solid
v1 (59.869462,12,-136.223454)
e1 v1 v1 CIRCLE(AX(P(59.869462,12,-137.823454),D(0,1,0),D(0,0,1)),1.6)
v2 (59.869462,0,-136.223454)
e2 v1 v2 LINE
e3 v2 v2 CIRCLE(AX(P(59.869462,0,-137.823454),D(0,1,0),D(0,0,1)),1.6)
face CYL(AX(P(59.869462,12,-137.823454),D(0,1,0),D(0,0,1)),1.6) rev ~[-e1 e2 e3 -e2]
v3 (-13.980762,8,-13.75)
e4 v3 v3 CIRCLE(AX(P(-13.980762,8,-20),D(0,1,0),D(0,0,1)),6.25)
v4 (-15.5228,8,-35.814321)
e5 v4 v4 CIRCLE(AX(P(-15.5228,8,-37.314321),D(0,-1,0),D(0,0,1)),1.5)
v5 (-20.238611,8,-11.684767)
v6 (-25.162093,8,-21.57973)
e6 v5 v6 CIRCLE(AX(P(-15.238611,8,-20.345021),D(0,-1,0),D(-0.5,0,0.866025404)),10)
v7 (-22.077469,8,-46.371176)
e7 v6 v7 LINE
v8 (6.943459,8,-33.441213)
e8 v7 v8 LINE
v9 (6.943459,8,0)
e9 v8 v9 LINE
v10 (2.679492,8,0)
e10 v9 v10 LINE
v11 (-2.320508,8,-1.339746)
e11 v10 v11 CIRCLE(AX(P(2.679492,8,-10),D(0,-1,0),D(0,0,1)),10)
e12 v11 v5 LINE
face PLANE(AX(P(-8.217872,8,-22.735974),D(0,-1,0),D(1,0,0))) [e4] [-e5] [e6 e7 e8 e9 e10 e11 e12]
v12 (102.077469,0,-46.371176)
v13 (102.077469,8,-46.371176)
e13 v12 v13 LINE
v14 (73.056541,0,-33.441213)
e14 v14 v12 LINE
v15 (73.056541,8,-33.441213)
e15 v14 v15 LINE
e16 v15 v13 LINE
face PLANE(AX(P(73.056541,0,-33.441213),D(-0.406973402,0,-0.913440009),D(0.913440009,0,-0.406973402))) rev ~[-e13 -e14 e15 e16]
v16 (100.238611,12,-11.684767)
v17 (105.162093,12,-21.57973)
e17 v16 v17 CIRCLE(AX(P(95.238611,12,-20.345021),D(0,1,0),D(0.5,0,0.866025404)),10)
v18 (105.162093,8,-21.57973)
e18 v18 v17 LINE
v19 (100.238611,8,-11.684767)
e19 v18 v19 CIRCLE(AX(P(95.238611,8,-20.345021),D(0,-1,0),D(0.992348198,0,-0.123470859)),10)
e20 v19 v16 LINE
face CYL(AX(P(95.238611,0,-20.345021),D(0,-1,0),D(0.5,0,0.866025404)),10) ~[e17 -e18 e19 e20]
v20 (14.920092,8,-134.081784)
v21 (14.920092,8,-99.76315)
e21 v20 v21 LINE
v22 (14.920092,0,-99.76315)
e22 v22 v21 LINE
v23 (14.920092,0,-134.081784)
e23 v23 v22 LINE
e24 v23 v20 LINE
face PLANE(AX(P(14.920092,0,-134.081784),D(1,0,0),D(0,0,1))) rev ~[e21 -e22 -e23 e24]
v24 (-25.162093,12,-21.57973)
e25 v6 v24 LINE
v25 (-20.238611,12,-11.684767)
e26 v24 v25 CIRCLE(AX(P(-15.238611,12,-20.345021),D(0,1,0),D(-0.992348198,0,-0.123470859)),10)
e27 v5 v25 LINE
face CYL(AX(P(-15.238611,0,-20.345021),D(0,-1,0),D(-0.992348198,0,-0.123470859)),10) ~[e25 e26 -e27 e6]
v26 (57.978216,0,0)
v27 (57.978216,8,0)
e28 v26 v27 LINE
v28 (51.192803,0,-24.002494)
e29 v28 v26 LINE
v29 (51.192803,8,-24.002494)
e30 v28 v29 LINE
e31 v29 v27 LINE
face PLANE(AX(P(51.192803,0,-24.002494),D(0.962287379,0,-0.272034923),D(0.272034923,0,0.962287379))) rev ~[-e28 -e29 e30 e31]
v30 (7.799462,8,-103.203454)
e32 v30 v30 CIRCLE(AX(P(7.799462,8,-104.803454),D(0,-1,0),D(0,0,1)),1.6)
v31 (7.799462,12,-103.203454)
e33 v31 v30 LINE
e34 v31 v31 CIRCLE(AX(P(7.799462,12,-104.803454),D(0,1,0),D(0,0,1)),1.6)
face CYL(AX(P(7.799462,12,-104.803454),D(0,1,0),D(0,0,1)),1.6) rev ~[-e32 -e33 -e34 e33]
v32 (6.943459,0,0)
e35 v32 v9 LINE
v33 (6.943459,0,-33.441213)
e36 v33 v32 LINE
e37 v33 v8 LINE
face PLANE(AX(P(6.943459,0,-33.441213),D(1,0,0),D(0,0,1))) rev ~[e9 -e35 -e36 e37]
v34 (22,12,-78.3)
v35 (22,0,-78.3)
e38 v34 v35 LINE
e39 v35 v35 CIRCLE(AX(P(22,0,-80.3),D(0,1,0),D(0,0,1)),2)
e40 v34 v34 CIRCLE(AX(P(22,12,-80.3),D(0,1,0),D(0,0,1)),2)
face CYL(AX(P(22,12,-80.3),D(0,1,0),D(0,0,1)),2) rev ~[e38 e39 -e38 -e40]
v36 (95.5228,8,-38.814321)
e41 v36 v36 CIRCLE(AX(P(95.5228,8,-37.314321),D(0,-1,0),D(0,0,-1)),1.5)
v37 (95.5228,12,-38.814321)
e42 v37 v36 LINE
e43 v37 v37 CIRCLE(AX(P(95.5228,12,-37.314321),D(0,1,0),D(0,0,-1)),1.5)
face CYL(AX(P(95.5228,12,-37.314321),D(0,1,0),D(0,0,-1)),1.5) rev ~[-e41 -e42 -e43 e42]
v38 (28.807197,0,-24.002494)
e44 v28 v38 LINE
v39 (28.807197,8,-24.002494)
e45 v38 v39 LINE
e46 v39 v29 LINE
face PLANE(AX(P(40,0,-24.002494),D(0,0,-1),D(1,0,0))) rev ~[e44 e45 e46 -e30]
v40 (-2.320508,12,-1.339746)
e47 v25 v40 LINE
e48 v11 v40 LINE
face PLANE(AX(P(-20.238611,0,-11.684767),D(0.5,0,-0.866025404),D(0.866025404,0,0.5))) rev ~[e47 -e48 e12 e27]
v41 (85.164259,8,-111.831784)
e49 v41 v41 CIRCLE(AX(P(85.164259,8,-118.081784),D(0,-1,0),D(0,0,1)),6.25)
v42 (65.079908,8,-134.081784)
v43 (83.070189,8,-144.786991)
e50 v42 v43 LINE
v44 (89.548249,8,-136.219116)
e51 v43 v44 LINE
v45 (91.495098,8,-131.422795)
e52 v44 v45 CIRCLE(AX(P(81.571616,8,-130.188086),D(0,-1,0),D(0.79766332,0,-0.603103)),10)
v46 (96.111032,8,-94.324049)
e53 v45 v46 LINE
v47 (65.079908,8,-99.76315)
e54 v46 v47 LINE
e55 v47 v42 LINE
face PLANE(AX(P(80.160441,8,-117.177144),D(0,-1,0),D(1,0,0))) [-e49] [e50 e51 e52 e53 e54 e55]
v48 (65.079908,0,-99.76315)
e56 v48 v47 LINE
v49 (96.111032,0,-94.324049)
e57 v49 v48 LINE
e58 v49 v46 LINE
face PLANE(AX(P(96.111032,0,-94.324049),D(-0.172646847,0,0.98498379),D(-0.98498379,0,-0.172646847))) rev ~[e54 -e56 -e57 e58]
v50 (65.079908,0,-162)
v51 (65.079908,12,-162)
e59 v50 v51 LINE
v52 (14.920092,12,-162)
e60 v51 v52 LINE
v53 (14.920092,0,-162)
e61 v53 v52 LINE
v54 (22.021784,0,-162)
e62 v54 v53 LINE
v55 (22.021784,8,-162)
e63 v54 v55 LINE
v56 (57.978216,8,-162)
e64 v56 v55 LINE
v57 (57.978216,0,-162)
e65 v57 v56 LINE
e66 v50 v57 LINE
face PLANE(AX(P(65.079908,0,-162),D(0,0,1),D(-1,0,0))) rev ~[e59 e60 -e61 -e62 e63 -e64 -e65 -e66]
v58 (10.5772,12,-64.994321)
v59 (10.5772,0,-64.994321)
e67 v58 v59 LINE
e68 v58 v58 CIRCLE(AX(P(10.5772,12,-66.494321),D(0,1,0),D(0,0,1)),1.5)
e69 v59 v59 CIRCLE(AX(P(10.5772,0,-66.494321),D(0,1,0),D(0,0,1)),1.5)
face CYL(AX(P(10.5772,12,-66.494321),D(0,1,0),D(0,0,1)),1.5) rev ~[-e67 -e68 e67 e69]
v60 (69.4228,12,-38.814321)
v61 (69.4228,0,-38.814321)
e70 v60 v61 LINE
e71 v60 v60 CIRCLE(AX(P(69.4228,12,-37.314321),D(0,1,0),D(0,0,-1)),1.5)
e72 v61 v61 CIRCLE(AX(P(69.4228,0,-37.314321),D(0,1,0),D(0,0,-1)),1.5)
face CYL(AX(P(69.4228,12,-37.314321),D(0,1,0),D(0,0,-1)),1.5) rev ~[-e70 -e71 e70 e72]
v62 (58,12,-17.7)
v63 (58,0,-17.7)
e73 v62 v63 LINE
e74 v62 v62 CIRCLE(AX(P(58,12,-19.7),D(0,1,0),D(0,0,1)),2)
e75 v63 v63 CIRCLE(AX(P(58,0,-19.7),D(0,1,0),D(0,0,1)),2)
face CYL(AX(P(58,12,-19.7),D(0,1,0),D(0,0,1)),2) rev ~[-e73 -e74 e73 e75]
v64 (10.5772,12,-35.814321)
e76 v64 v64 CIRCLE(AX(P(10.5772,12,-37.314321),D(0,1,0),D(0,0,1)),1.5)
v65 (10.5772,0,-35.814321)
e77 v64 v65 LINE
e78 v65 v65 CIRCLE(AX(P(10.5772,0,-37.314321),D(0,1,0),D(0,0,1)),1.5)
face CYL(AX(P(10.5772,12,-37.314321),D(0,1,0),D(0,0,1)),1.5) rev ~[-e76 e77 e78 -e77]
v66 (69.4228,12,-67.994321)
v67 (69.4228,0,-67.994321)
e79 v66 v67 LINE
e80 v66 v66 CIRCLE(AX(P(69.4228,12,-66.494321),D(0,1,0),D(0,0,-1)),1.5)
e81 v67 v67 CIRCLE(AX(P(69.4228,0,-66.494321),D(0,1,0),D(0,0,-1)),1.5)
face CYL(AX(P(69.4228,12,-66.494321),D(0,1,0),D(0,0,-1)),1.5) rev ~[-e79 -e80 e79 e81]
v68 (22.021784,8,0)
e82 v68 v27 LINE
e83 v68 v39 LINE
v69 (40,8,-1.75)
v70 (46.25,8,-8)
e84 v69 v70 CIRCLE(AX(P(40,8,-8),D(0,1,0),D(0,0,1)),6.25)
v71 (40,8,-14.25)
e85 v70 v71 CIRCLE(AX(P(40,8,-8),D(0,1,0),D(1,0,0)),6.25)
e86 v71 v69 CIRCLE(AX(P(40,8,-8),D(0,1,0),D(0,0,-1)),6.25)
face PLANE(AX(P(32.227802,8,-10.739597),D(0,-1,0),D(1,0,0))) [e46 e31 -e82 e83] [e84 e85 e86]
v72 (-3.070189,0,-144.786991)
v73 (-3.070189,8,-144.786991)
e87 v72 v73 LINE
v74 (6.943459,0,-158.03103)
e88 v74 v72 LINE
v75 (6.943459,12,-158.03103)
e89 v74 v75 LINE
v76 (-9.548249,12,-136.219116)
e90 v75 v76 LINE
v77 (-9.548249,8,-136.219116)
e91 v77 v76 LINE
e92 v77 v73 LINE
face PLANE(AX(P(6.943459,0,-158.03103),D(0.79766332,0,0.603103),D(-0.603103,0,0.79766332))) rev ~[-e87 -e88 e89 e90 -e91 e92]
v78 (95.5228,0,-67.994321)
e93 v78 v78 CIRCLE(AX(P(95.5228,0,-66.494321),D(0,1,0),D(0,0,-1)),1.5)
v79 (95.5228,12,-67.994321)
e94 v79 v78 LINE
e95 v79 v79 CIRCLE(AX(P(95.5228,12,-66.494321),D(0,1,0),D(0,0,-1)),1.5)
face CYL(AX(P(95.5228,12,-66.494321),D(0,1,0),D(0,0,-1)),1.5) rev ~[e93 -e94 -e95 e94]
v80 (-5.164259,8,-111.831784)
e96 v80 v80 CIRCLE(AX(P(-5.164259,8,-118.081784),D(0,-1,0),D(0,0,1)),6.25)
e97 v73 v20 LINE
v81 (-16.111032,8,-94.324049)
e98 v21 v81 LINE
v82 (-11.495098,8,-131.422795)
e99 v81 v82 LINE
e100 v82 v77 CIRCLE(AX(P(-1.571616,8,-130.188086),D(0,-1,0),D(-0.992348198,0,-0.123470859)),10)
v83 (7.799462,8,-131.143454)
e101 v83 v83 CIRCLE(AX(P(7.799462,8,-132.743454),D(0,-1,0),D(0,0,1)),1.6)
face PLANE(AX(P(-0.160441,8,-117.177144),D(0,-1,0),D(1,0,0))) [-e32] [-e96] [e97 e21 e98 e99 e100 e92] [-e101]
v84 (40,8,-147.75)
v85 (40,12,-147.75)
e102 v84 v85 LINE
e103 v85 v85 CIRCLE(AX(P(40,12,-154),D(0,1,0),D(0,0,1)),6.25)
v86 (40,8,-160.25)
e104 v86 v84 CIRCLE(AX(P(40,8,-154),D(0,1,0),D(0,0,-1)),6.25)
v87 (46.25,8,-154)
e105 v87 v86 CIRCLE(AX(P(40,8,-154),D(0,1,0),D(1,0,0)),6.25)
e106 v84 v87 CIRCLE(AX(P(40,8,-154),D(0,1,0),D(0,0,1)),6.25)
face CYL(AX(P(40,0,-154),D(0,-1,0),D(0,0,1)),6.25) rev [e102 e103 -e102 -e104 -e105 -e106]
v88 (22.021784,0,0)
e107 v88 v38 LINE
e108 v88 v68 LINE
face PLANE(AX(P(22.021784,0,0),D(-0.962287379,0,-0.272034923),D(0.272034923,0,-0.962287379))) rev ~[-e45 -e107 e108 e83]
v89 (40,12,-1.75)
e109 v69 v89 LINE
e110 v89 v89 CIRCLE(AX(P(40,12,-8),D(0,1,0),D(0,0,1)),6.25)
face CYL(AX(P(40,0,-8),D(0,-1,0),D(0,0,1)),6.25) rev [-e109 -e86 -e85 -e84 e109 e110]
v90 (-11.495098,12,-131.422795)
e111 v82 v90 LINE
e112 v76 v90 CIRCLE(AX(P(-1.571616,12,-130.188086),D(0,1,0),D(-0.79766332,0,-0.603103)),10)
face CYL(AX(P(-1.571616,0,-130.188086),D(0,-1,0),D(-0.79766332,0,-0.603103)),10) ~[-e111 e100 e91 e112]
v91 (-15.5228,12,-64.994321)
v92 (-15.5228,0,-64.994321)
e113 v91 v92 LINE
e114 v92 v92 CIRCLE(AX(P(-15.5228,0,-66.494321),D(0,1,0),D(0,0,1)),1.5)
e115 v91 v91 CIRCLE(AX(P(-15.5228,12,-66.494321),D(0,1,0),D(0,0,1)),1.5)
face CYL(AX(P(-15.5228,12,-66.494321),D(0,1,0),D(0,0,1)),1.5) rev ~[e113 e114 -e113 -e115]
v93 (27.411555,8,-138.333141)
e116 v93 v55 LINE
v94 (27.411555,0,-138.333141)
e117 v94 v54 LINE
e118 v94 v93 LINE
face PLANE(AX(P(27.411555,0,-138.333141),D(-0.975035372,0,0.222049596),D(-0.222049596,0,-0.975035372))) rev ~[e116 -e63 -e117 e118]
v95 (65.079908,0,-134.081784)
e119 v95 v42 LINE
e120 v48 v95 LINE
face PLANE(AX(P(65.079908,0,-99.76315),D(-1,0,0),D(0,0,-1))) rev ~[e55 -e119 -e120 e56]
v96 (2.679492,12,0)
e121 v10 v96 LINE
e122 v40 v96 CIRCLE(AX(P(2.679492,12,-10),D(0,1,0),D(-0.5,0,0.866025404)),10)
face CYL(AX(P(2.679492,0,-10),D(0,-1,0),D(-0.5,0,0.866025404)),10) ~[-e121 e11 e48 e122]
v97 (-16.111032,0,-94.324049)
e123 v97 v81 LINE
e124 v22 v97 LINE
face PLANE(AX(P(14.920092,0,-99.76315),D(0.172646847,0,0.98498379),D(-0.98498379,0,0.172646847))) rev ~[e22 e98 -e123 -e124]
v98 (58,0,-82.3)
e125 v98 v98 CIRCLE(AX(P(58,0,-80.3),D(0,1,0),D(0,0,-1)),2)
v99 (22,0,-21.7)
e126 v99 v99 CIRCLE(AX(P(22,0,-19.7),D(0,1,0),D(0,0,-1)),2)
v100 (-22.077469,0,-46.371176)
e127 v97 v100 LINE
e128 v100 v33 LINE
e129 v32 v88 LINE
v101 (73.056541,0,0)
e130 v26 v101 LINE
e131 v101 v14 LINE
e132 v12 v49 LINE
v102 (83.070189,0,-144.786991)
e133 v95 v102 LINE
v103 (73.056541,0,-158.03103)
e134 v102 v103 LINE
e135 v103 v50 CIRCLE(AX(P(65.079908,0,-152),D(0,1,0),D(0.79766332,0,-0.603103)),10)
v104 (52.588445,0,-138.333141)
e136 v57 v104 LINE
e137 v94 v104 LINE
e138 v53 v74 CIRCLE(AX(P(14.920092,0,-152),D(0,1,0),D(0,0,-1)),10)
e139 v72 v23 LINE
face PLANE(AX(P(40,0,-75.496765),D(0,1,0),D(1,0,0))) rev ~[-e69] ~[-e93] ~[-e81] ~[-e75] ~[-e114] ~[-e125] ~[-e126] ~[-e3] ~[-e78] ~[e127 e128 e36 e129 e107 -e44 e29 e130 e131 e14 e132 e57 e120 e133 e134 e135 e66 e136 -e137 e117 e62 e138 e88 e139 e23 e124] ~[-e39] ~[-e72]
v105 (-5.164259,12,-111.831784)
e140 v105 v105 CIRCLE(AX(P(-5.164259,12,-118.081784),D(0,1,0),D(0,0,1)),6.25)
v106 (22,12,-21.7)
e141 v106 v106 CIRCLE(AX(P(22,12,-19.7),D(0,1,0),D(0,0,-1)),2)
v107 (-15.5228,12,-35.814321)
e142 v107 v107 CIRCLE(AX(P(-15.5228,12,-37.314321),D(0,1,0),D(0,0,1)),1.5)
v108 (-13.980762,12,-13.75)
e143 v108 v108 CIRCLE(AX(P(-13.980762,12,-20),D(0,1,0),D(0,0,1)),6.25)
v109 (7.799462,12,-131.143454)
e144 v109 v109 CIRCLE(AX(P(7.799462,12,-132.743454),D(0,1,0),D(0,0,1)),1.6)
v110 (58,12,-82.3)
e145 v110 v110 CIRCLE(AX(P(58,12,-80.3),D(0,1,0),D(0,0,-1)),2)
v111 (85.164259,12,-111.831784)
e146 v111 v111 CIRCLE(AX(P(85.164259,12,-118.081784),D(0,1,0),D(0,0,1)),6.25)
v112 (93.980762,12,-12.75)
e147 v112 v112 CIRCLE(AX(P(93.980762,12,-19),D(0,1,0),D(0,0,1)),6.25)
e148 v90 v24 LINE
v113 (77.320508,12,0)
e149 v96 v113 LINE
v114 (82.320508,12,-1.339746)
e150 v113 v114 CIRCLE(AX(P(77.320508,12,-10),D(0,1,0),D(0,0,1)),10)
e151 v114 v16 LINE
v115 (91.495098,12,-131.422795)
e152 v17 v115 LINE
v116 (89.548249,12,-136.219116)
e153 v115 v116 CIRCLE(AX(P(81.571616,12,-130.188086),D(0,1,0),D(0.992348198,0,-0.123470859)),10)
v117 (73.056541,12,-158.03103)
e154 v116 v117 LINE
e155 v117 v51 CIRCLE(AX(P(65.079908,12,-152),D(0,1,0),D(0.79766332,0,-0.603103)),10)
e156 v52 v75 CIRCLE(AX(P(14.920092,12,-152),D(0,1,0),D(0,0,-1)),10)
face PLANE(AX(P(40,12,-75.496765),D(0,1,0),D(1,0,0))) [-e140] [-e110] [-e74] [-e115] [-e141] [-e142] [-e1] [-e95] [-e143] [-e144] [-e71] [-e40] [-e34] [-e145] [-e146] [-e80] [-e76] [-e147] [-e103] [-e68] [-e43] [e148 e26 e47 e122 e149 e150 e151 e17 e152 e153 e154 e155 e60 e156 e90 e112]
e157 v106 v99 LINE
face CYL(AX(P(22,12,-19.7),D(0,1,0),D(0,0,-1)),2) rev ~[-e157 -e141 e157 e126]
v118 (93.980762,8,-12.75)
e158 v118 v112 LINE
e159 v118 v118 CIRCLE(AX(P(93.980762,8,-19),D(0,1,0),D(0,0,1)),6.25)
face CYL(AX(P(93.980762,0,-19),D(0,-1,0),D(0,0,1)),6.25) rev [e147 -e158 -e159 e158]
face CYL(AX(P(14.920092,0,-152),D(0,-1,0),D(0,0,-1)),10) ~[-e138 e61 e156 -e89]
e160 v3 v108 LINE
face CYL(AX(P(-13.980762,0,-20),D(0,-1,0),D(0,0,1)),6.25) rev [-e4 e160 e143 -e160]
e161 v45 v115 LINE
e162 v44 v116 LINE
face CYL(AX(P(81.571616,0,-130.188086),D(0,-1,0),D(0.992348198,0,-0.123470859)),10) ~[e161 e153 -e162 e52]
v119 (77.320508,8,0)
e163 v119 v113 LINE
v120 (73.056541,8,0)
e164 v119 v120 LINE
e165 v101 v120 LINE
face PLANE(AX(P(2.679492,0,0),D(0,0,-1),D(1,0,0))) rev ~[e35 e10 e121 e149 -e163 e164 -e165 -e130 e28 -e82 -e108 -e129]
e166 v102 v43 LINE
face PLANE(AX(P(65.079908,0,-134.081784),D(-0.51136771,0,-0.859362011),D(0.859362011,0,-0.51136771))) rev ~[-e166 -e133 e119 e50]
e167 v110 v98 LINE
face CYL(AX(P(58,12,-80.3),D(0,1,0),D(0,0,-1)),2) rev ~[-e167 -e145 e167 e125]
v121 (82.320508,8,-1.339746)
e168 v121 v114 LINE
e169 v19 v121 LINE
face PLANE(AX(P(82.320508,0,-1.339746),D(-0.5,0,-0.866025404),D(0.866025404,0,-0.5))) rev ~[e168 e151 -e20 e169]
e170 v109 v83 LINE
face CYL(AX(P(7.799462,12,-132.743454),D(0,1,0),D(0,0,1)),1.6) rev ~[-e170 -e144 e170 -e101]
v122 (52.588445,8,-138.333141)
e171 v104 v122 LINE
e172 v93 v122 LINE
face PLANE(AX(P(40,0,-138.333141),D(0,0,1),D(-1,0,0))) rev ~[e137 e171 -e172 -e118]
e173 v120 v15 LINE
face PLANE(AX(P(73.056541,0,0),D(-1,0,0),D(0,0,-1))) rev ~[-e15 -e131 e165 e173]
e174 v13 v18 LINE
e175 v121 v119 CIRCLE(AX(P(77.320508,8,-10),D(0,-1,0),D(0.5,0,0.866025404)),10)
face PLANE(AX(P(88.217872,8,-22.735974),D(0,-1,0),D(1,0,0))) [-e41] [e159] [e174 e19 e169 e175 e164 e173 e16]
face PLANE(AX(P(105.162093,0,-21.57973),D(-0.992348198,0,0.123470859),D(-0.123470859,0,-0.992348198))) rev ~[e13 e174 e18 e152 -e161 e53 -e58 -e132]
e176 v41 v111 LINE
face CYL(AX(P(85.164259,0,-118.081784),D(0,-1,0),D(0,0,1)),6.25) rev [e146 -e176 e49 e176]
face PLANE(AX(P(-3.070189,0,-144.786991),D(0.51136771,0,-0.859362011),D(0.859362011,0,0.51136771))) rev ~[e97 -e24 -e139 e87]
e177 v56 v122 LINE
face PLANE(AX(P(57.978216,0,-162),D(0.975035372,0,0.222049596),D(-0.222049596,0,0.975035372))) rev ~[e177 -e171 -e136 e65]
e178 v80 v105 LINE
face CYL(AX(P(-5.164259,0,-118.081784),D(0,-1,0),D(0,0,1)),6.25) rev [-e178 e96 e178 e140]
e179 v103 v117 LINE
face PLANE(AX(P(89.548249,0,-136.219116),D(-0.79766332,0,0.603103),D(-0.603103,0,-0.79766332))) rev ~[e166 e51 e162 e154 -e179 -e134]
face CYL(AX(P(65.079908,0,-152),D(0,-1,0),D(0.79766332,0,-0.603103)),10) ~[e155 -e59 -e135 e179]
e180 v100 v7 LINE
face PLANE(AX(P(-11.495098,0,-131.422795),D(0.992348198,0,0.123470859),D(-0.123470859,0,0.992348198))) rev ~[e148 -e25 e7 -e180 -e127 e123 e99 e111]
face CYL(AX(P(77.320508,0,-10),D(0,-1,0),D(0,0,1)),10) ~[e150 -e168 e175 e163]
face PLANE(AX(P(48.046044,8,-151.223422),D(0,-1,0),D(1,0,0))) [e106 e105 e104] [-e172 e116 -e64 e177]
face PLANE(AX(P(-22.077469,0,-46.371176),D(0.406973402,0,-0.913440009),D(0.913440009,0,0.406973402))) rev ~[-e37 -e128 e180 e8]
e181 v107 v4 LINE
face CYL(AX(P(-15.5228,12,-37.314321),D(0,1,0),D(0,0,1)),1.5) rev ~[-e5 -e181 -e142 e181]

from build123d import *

# Parameters (mm, degrees)
SKETCH1_R           = 6.25
BOSS_EXTRUDE2_DEPTH = 12
SKETCH3_R           = 1.6
SKETCH3_R_2         = 2
SKETCH3_R_3         = 1.5
CUT_EXTRUDE3_DEPTH  = 194.554036966
SKETCH4_R           = 1.6
SKETCH4_R_2         = 6.25
SKETCH4_R_3         = 1.5
CUT_EXTRUDE4_DEPTH  = 8


with BuildPart() as part:
    # Sketch1 → Boss-Extrude2 (new body)
    with BuildSketch(Plane(origin=(0, 0, 0), x_dir=(1, 0, 0), z_dir=(0, 1, 0))):
        with BuildLine():
            Line((2.679491924, 0), (77.320508076, 0))
            ThreePointArc((77.320508076, 0), (79.908698527, 0.340741737), (82.320508076, 1.339745962))
            Line((82.320508076, 1.339745962), (100.238610908, 11.684767456))
            ThreePointArc((100.238610908, 11.684767456), (104.191551765, 15.890265607), (105.162092892, 21.579730085))
            Line((105.162092892, 21.579730085), (91.495098183, 131.422794828))
            ThreePointArc((91.495098183, 131.422794828), (90.837397635, 133.949109284), (89.548249395, 136.219116235))
            Line((89.548249395, 136.219116235), (73.056541302, 158.031029999))
            ThreePointArc((73.056541302, 158.031029999), (69.534663992, 160.952940857), (65.079908105, 162))
            Line((65.079908105, 162), (14.920091895, 162))
            ThreePointArc((14.920091895, 162), (10.465336008, 160.952940857), (6.943458698, 158.031029999))
            Line((6.943458698, 158.031029999), (-9.548249395, 136.219116235))
            ThreePointArc((-9.548249395, 136.219116235), (-10.837397635, 133.949109284), (-11.495098183, 131.422794828))
            Line((-11.495098183, 131.422794828), (-25.162092892, 21.579730085))
            ThreePointArc((-25.162092892, 21.579730085), (-24.191551765, 15.890265607), (-20.238610908, 11.684767456))
            Line((-20.238610908, 11.684767456), (-2.320508076, 1.339745962))
            ThreePointArc((-2.320508076, 1.339745962), (0.091301473, 0.340741737), (2.679491924, 0))
        make_face()
        with Locations(Location((-13.980762114, 20, 0), (0, 0, 270))):
            Circle(SKETCH1_R, mode=Mode.SUBTRACT)
        with Locations(Location((93.980762114, 19, 0), (0, 0, 270))):
            Circle(SKETCH1_R, mode=Mode.SUBTRACT)
        with Locations(Location((-5.164259013, 118.081783812, 0), (0, 0, 270))):
            Circle(SKETCH1_R, mode=Mode.SUBTRACT)
        with Locations(Location((85.164259013, 118.081783812, 0), (0, 0, 270))):
            Circle(SKETCH1_R, mode=Mode.SUBTRACT)
        with Locations(Location((40, 154, 0), (0, 0, 270))):
            Circle(SKETCH1_R, mode=Mode.SUBTRACT)
        with Locations(Location((40, 8, 0), (0, 0, 270))):
            Circle(SKETCH1_R, mode=Mode.SUBTRACT)
    extrude(amount=BOSS_EXTRUDE2_DEPTH)

    # Sketch3 → Cut-Extrude3 (cut, through all)
    with BuildSketch(Plane(origin=(0, 12, 0), x_dir=(1, 0, 0), z_dir=(0, 1, 0))):
        with Locations(Location((7.799462252, 104.803453548, 0), (0, 0, 270))):
            Circle(SKETCH3_R)
        with Locations(Location((7.799462252, 132.743453548, 0), (0, 0, 270))):
            Circle(SKETCH3_R)
        with Locations(Location((59.869462252, 137.823453548, 0), (0, 0, 270))):
            Circle(SKETCH3_R)
        with Locations(Location((58, 19.7, 0), (0, 0, 270))):
            Circle(SKETCH3_R_2)
        with Locations(Location((22, 19.7, 0), (0, 0, 90))):
            Circle(SKETCH3_R_2)
        with Locations(Location((22, 80.3, 0), (0, 0, 270))):
            Circle(SKETCH3_R_2)
        with Locations(Location((58, 80.3, 0), (0, 0, 90))):
            Circle(SKETCH3_R_2)
        with Locations(Location((10.577199901, 37.314321378, 0), (0, 0, 270))):
            Circle(SKETCH3_R_3)
        with Locations(Location((-15.522800099, 66.494321378, 0), (0, 0, 270))):
            Circle(SKETCH3_R_3)
        with Locations(Location((-15.522800099, 37.314321378, 0), (0, 0, 270))):
            Circle(SKETCH3_R_3)
        with Locations(Location((10.577199901, 66.494321378, 0), (0, 0, 270))):
            Circle(SKETCH3_R_3)
        with Locations(Location((95.522800099, 37.314321378, 0), (0, 0, 90))):
            Circle(SKETCH3_R_3)
        with Locations(Location((95.522800099, 66.494321378, 0), (0, 0, 90))):
            Circle(SKETCH3_R_3)
        with Locations(Location((69.422800099, 37.314321378, 0), (0, 0, 90))):
            Circle(SKETCH3_R_3)
        with Locations(Location((69.422800099, 66.494321378, 0), (0, 0, 90))):
            Circle(SKETCH3_R_3)
    extrude(amount=-CUT_EXTRUDE3_DEPTH, mode=Mode.SUBTRACT)

    # Sketch4 → Cut-Extrude4 (cut)
    # profile 1 of 8: a face of its own
    with BuildSketch(Plane.XZ):
        with BuildLine():
            Line((14.920091895, -99.763149928), (-16.111032357, -94.324049484))
            Line((-16.111032357, -94.324049484), (-11.495098183, -131.422794828))
            ThreePointArc((-11.495098183, -131.422794828), (-10.837397635, -133.949109284), (-9.548249395, -136.219116235))
            Line((-9.548249395, -136.219116235), (-3.07018894, -144.786991388))
            Line((-3.07018894, -144.786991388), (14.920091895, -134.081783812))
            Line((14.920091895, -134.081783812), (14.920091895, -99.763149928))
        make_face()
        with Locations(Location((7.799462252, -132.743453548, 0), (0, 0, 90))):
            Circle(SKETCH4_R, mode=Mode.SUBTRACT)
        with Locations(Location((-5.164259013, -118.081783812, 0), (0, 0, 270))):
            Circle(SKETCH4_R_2, mode=Mode.SUBTRACT)
        with Locations(Location((7.799462252, -104.803453548, 0), (0, 0, 90))):
            Circle(SKETCH4_R, mode=Mode.SUBTRACT)
    # profile 2 of 8: a face of its own
    with BuildSketch(Plane.XZ):
        with BuildLine():
            Line((52.588445494, -138.333140663), (40, -138.333140663))
            Line((40, -138.333140663), (40, -147.75))
            ThreePointArc((40, -147.75), (44.419417382, -149.580582618), (46.25, -154))
            ThreePointArc((46.25, -154), (44.419417382, -158.419417382), (40, -160.25))
            Line((40, -160.25), (40, -162))
            Line((40, -162), (57.978215662, -162))
            Line((57.978215662, -162), (52.588445494, -138.333140663))
        make_face()
    # profile 3 of 8: a face of its own
    with BuildSketch(Plane.XZ):
        with BuildLine():
            Line((40, -147.75), (40, -138.333140663))
            Line((40, -138.333140663), (27.411554506, -138.333140663))
            Line((27.411554506, -138.333140663), (22.021784338, -162))
            Line((22.021784338, -162), (40, -162))
            Line((40, -162), (40, -160.25))
            ThreePointArc((40, -160.25), (33.75, -154), (40, -147.75))
        make_face()
    # profile 4 of 8: a face of its own
    with BuildSketch(Plane.XZ):
        with BuildLine():
            Line((91.495098183, -131.422794828), (96.111032357, -94.324049484))
            Line((96.111032357, -94.324049484), (65.079908105, -99.763149928))
            Line((65.079908105, -99.763149928), (65.079908105, -134.081783812))
            Line((65.079908105, -134.081783812), (83.07018894, -144.786991388))
            Line((83.07018894, -144.786991388), (89.548249395, -136.219116235))
            ThreePointArc((89.548249395, -136.219116235), (90.837397635, -133.949109284), (91.495098183, -131.422794828))
        make_face()
        with Locations(Location((85.164259013, -118.081783812, 0), (0, 0, 270))):
            Circle(SKETCH4_R_2, mode=Mode.SUBTRACT)
    # profile 5 of 8: a face of its own
    with BuildSketch(Plane.XZ):
        with BuildLine():
            Line((100.238610908, -11.684767456), (82.320508076, -1.339745962))
            ThreePointArc((82.320508076, -1.339745962), (79.908698527, -0.340741737), (77.320508076, 0))
            Line((77.320508076, 0), (73.056541302, 0))
            Line((73.056541302, 0), (73.056541302, -33.441212659))
            Line((73.056541302, -33.441212659), (102.077468862, -46.371175776))
            Line((102.077468862, -46.371175776), (105.162092892, -21.579730085))
            ThreePointArc((105.162092892, -21.579730085), (104.191551765, -15.890265607), (100.238610908, -11.684767456))
        make_face()
        with Locations(Location((95.522800099, -37.314321378, 0), (0, 0, 270))):
            Circle(SKETCH4_R_3, mode=Mode.SUBTRACT)
        with Locations(Location((93.980762114, -19, 0), (0, 0, 270))):
            Circle(SKETCH4_R_2, mode=Mode.SUBTRACT)
    # profile 6 of 8: a face of its own
    with BuildSketch(Plane.XZ):
        with BuildLine():
            Line((51.192803455, -24.002493724), (57.978215662, 0))
            Line((57.978215662, 0), (40, 0))
            Line((40, 0), (40, -1.75))
            ThreePointArc((40, -1.75), (44.419417382, -3.580582618), (46.25, -8))
            ThreePointArc((46.25, -8), (44.419417382, -12.419417382), (40, -14.25))
            Line((40, -14.25), (40, -24.002493724))
            Line((40, -24.002493724), (51.192803455, -24.002493724))
        make_face()
    # profile 7 of 8: a face of its own
    with BuildSketch(Plane.XZ):
        with BuildLine():
            Line((40, -1.75), (40, 0))
            Line((40, 0), (22.021784338, 0))
            Line((22.021784338, 0), (28.807196545, -24.002493724))
            Line((28.807196545, -24.002493724), (40, -24.002493724))
            Line((40, -24.002493724), (40, -14.25))
            ThreePointArc((40, -14.25), (33.75, -8), (40, -1.75))
        make_face()
    # profile 8 of 8: a face of its own
    with BuildSketch(Plane.XZ):
        with BuildLine():
            Line((6.943458698, -33.441212659), (6.943458698, 0))
            Line((6.943458698, 0), (2.679491924, 0))
            ThreePointArc((2.679491924, 0), (0.091301473, -0.340741737), (-2.320508076, -1.339745962))
            Line((-2.320508076, -1.339745962), (-20.238610908, -11.684767456))
            ThreePointArc((-20.238610908, -11.684767456), (-24.191551765, -15.890265607), (-25.162092892, -21.579730085))
            Line((-25.162092892, -21.579730085), (-22.077468862, -46.371175776))
            Line((-22.077468862, -46.371175776), (6.943458698, -33.441212659))
        make_face()
        with Locations(Location((-15.522800099, -37.314321378, 0), (0, 0, 90))):
            Circle(SKETCH4_R_3, mode=Mode.SUBTRACT)
        with Locations(Location((-13.980762114, -20, 0), (0, 0, 270))):
            Circle(SKETCH4_R_2, mode=Mode.SUBTRACT)
    extrude(amount=-CUT_EXTRUDE4_DEPTH, mode=Mode.SUBTRACT)


solid = part.part
